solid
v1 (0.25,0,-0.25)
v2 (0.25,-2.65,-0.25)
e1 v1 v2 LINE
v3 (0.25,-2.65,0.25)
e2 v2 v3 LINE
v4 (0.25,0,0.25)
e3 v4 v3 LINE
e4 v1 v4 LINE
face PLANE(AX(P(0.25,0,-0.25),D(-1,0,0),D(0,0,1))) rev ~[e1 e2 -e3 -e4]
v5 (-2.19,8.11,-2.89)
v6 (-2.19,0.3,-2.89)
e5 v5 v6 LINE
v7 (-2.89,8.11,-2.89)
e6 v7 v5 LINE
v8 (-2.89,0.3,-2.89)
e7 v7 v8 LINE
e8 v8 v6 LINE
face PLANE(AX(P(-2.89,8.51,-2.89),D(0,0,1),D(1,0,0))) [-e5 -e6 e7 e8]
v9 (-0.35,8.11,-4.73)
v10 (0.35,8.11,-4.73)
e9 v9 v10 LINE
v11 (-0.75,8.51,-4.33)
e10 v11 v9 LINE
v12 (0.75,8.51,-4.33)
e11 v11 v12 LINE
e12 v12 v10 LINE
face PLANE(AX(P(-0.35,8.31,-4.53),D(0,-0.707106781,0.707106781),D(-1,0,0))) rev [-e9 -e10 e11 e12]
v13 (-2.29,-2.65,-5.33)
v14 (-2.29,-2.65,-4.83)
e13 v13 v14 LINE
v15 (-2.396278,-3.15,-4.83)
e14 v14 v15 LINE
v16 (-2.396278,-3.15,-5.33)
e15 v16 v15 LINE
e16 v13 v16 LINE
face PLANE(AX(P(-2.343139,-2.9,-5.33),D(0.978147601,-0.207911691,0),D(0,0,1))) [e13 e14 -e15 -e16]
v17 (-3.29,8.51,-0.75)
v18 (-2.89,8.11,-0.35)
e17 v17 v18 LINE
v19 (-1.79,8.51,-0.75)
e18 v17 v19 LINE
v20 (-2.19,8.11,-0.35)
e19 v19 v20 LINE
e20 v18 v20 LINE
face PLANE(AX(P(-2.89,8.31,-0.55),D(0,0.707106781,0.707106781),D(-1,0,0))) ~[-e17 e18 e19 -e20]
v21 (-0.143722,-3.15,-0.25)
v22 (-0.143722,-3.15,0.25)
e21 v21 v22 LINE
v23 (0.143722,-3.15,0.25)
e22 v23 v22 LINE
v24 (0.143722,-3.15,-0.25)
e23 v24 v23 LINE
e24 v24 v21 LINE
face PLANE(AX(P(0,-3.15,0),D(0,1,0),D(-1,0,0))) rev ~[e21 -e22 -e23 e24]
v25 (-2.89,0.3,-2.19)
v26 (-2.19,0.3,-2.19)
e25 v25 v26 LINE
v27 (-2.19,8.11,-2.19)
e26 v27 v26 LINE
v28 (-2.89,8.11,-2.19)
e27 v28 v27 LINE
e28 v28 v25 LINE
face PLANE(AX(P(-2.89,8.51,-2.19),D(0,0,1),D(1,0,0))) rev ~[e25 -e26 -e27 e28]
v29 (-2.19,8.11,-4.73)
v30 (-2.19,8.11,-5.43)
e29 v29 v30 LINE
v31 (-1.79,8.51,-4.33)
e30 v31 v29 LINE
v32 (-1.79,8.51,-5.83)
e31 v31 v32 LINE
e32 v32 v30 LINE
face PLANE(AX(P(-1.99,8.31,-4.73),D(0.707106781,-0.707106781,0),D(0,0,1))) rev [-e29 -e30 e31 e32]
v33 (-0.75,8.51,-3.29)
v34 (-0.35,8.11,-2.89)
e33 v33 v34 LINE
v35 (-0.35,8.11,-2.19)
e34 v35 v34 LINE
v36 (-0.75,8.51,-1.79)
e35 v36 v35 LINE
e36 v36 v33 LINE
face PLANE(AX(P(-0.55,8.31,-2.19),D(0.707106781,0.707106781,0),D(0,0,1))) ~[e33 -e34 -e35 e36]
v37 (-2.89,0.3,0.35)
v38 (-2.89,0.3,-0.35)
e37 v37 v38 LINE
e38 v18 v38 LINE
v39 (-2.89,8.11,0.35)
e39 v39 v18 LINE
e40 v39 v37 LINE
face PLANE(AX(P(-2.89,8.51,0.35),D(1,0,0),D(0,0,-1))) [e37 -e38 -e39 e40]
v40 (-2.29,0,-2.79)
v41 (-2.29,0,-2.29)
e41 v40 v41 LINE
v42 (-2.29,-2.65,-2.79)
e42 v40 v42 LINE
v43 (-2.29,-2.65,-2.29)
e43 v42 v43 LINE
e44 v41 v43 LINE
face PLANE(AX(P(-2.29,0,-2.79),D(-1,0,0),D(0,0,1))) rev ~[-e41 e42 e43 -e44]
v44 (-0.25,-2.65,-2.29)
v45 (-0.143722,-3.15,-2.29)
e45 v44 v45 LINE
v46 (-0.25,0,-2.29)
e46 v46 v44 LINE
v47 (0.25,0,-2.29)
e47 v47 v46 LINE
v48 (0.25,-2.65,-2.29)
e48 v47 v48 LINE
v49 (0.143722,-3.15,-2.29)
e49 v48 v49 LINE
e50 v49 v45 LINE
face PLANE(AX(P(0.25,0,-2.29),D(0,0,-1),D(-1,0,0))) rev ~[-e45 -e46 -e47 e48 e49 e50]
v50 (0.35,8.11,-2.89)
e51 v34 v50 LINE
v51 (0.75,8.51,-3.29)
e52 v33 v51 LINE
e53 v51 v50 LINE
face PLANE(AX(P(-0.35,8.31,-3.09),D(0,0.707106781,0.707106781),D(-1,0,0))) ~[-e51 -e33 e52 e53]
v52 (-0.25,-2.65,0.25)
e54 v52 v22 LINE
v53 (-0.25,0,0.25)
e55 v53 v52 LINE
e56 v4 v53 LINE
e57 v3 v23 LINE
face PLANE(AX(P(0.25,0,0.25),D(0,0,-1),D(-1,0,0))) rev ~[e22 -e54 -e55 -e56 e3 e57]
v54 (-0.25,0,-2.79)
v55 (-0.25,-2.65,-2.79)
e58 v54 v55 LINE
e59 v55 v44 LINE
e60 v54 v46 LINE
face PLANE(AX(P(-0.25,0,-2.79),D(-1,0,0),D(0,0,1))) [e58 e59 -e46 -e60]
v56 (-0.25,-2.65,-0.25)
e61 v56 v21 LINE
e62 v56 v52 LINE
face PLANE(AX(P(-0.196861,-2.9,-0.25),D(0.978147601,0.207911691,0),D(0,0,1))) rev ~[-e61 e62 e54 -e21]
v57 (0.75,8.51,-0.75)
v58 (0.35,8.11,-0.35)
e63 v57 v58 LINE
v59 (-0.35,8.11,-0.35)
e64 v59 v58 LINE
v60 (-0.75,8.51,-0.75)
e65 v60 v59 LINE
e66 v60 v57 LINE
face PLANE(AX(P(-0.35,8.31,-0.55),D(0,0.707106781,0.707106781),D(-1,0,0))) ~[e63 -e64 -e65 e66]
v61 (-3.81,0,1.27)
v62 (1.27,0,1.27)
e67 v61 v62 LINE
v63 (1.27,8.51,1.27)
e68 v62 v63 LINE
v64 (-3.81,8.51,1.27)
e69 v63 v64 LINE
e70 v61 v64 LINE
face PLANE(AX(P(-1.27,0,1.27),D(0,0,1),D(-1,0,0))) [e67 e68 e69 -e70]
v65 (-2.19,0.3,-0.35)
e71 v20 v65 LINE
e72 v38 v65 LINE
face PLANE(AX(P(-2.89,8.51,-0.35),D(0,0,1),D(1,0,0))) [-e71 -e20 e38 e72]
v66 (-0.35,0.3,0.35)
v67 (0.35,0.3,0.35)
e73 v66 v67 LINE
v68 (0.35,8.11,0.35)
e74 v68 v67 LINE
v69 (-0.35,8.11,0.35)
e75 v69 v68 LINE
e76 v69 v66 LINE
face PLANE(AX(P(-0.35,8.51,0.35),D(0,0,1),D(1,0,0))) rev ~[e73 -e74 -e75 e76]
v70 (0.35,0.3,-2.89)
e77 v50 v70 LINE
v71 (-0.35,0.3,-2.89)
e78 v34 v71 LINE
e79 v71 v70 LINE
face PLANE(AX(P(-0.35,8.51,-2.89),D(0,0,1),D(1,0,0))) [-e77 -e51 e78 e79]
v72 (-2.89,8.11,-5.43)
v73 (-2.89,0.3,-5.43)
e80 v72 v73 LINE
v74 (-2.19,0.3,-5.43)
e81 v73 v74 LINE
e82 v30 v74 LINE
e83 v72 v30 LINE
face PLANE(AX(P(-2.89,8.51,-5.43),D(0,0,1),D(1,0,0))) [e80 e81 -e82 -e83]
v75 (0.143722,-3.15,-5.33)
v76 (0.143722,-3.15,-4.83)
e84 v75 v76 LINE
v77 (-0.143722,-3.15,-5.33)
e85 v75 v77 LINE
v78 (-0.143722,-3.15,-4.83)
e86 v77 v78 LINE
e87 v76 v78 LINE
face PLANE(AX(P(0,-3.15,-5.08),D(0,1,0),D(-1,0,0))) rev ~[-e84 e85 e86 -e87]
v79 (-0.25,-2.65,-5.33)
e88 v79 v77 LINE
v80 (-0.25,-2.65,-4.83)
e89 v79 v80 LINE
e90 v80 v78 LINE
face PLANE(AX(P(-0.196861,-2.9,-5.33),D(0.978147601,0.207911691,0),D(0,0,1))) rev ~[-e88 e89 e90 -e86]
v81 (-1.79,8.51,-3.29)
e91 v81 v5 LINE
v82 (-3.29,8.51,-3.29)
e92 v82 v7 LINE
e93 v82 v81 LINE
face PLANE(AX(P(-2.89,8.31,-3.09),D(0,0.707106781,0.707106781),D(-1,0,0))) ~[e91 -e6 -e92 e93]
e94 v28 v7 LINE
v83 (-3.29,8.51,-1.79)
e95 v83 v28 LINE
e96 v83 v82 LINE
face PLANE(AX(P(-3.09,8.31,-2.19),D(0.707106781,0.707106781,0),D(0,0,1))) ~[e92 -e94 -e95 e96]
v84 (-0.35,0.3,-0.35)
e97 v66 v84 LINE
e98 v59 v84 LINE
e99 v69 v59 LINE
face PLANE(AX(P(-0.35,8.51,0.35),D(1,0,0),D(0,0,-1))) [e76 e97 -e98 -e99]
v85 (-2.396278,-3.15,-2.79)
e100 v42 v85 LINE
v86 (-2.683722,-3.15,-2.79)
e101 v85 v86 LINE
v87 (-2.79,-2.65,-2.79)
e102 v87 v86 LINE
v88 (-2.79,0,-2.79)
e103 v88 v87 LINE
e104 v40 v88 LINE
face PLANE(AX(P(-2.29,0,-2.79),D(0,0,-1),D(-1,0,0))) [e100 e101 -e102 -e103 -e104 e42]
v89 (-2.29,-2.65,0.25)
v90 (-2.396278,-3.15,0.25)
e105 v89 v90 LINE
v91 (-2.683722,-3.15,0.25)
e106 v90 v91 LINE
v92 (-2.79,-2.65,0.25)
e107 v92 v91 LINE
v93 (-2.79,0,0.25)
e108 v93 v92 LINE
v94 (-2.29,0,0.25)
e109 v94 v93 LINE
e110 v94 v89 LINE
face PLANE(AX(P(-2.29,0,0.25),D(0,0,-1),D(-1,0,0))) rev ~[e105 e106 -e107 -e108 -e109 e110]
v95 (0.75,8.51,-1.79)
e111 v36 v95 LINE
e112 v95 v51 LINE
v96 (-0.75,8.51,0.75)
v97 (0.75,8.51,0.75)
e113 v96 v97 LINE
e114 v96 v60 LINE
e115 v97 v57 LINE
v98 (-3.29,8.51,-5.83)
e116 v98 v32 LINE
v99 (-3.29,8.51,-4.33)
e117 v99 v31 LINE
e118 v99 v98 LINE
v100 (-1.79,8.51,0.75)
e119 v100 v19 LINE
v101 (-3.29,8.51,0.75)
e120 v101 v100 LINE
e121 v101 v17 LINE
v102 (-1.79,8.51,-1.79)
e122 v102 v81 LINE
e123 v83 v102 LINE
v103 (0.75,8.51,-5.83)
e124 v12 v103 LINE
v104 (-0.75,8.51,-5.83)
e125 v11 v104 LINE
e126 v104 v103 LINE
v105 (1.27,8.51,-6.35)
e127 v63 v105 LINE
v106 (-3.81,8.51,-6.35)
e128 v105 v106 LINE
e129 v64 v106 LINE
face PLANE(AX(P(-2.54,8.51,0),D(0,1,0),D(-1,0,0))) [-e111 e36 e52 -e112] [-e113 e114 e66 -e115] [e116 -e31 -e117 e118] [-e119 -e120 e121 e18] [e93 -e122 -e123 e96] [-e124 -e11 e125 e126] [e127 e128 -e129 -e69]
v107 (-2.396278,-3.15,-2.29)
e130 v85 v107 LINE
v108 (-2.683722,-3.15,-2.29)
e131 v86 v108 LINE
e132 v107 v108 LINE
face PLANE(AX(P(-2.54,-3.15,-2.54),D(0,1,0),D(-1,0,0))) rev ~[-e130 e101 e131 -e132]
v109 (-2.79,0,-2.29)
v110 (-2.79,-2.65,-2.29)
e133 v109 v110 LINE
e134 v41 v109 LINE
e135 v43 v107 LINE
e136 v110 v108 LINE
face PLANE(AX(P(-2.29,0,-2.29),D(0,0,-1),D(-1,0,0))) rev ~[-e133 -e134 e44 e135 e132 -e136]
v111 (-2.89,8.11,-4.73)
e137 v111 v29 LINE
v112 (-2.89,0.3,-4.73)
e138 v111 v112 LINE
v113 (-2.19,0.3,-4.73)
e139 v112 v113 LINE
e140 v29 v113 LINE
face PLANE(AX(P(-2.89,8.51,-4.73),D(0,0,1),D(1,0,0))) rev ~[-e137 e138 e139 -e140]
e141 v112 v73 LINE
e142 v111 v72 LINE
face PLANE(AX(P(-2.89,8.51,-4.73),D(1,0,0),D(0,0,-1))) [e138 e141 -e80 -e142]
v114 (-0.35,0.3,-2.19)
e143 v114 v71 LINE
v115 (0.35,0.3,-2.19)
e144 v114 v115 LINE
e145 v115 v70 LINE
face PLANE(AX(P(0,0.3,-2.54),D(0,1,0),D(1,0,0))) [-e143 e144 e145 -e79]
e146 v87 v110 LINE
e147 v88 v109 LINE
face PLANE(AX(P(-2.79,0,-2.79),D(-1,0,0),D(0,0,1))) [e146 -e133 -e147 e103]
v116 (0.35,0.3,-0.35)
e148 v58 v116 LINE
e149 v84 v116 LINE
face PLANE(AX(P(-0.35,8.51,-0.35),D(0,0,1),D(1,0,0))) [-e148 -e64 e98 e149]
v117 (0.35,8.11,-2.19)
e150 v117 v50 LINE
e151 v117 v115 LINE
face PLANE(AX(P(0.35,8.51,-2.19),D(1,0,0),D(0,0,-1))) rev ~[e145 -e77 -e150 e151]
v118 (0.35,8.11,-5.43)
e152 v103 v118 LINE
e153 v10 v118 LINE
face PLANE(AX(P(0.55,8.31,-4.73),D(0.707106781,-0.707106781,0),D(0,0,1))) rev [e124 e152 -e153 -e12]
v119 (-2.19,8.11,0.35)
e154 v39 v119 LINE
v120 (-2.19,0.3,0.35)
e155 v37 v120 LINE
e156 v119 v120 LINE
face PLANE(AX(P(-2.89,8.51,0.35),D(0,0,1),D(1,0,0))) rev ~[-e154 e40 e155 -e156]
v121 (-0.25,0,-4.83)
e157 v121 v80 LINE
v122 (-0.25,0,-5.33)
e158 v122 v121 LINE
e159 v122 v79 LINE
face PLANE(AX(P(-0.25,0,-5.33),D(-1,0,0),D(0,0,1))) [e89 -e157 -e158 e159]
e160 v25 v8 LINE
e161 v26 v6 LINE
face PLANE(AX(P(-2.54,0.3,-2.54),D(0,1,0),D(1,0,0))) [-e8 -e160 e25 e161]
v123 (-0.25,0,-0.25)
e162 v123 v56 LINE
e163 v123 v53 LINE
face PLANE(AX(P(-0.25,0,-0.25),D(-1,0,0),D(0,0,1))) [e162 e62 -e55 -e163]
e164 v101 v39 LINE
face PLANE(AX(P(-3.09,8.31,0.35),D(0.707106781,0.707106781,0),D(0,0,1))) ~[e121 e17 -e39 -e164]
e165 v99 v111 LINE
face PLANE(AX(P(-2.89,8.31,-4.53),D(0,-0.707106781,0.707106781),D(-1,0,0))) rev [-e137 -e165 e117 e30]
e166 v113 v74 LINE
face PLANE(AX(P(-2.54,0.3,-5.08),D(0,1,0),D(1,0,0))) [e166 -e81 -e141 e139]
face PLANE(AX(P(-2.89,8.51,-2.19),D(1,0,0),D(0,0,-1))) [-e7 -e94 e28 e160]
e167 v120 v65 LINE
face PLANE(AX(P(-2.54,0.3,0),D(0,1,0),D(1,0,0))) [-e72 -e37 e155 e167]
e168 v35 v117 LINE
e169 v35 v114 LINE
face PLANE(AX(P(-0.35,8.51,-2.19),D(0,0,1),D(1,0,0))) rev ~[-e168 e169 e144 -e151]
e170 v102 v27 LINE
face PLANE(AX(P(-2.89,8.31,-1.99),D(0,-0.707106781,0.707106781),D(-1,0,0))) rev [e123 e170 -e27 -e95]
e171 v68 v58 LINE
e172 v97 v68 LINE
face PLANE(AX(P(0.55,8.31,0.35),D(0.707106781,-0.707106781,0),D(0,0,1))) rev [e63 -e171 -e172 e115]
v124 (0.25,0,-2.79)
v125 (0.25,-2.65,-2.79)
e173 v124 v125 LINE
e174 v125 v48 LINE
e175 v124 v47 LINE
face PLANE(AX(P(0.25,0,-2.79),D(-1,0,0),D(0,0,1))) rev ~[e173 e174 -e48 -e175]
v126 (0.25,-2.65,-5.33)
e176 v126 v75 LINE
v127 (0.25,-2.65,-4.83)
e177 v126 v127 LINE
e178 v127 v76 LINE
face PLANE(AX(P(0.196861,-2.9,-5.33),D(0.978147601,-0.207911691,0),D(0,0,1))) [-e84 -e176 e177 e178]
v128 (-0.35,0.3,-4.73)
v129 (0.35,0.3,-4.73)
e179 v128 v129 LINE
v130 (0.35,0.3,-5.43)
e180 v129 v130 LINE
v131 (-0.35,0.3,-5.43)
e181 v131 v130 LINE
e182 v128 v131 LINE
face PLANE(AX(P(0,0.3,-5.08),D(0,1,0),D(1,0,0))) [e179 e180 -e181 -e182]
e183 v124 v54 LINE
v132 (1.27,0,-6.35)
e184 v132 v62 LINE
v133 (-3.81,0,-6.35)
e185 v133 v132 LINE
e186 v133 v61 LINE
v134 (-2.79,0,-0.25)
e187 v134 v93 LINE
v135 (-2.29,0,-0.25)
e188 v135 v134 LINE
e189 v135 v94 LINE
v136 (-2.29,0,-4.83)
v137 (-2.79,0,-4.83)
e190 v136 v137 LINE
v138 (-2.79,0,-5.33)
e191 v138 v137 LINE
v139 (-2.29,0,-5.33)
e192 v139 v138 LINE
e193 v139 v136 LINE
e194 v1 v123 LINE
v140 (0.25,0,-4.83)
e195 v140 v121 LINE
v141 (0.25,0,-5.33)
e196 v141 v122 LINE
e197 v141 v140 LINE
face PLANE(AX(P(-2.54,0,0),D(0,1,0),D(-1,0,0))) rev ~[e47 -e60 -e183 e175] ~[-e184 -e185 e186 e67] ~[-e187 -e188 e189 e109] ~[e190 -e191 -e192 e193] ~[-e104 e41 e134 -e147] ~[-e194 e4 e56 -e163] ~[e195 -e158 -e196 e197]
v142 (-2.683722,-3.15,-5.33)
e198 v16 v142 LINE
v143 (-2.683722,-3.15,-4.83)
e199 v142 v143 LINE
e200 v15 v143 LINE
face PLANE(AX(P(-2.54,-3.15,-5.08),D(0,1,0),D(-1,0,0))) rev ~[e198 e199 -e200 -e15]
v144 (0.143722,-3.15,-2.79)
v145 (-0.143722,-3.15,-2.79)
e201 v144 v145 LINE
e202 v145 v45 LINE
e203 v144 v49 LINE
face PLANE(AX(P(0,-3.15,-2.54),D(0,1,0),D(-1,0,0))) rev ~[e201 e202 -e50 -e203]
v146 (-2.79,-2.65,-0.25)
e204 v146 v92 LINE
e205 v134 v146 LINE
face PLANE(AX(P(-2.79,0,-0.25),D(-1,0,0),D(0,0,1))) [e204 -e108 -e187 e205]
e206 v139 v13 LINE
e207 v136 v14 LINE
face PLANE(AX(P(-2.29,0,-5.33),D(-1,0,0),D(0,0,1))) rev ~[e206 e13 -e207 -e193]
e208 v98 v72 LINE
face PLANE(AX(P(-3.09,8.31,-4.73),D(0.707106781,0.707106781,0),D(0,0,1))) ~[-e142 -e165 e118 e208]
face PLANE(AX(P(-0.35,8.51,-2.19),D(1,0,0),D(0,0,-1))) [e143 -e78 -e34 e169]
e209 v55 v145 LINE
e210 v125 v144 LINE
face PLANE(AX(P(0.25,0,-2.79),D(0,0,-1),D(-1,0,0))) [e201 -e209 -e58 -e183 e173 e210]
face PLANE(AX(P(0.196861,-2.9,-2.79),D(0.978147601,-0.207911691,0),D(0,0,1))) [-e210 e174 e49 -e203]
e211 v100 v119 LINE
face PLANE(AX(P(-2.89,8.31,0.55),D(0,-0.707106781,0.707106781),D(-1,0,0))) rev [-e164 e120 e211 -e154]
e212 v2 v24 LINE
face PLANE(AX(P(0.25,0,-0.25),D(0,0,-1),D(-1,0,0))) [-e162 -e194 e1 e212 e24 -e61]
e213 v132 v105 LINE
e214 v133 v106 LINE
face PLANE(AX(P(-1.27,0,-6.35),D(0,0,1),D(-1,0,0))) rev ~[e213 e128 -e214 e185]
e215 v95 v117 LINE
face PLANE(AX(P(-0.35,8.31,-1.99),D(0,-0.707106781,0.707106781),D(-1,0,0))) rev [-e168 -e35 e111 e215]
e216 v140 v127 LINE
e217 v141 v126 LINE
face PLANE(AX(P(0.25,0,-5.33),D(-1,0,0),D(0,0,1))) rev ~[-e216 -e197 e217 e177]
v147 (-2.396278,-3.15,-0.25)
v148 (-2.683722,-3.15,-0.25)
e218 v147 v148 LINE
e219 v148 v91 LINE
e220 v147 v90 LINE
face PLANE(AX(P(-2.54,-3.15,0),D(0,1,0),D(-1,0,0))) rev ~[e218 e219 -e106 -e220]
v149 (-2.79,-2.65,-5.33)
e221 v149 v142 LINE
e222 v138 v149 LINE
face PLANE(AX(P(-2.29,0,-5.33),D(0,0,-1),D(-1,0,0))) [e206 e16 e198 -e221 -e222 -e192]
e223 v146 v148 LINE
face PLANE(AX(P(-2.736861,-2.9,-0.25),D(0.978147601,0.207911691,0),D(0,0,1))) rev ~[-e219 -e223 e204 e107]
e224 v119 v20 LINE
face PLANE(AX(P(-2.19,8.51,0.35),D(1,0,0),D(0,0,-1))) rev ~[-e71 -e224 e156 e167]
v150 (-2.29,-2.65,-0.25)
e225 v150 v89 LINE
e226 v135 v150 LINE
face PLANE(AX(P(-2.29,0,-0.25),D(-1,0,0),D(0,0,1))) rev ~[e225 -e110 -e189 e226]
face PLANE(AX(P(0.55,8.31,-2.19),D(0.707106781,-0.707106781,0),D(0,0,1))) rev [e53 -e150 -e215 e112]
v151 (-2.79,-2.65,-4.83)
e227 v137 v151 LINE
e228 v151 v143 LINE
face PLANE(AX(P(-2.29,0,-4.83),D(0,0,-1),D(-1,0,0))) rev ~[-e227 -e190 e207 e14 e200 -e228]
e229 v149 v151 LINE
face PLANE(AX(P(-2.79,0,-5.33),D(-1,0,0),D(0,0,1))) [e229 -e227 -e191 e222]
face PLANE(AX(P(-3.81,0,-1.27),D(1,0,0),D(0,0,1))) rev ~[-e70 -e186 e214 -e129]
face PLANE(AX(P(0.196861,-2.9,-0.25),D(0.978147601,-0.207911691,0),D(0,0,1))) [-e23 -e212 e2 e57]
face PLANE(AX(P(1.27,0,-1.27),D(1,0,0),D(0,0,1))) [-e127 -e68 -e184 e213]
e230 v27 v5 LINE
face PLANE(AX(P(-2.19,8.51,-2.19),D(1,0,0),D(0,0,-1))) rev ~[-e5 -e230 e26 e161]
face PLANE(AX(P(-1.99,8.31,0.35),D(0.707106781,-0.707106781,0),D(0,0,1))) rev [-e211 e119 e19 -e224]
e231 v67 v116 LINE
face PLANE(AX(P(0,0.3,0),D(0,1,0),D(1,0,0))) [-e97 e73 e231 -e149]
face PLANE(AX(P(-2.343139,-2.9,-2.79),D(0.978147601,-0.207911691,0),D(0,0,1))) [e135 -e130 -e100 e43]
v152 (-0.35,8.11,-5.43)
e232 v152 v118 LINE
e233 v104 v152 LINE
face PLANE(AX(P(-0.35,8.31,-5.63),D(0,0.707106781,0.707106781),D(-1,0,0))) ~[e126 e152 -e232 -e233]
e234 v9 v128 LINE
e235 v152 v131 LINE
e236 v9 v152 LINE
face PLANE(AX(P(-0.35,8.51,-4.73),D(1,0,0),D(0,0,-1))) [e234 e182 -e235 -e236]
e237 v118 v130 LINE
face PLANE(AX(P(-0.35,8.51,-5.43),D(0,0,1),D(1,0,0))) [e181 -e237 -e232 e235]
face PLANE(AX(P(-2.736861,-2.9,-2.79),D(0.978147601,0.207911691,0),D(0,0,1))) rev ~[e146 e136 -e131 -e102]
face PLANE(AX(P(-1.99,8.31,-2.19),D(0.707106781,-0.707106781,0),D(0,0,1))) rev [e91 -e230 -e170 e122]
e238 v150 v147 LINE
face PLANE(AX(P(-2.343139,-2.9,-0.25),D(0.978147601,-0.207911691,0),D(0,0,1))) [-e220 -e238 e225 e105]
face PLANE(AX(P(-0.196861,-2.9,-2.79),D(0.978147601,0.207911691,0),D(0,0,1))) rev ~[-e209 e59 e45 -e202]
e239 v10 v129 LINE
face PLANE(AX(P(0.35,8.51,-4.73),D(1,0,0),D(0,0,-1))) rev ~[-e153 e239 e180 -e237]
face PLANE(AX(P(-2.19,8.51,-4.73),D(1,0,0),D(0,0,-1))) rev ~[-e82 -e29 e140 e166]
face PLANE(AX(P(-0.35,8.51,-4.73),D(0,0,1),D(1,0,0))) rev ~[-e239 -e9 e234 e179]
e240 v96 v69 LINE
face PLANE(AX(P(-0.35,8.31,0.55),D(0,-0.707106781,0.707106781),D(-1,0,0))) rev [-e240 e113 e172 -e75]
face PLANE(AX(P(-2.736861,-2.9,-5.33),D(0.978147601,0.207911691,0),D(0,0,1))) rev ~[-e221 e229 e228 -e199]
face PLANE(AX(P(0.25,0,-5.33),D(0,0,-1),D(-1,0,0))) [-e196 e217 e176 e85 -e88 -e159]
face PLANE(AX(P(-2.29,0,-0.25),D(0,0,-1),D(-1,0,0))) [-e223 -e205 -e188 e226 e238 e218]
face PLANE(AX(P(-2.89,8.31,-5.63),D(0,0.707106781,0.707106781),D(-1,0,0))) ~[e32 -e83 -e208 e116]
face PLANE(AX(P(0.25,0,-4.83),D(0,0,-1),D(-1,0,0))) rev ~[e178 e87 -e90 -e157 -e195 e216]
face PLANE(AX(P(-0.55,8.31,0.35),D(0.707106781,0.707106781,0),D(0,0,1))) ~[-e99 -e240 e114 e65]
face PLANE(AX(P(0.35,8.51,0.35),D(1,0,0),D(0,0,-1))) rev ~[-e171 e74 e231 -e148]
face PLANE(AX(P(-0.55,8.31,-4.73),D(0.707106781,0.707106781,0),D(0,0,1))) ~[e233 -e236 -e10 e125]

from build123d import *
from OCP.BRepFilletAPI import BRepFilletAPI_MakeChamfer

# Parameters (mm, degrees)
SKETCH_1_W                          = 2.54
SKETCH_1_H                          = 2.54
EXTRUDE_1_DEPTH                     = 8.51
SKETCH_4_W                          = 0.7
SKETCH_4_H                          = 0.7
CUT_EXTRUDE_1_DEPTH                 = 8.21
CHAMFER_3_SIZE                      = 0.4
SKETCH_2_W                          = 0.5
SKETCH_2_H                          = 0.5
EXTRUDE_2_DEPTH                     = 3.15
CHAMFER_2_SIZE                      = 0.5
CHAMFER_2_SIZE2                     = 0.106278281
PATTERN_LINEAR_1_COUNT              = 3
PATTERN_LINEAR_1_PITCH              = 2.54
PATTERN_LINEAR_1_COUNT_DIR2         = 2
PATTERN_LINEAR_1_PITCH_DIR2         = 2.54
CHAMFER_3_OF_PATTERN_LINEAR_1_SIZE  = 0.4
CHAMFER_2_OF_PATTERN_LINEAR_1_SIZE  = 0.5
CHAMFER_2_OF_PATTERN_LINEAR_1_SIZE2 = 0.106278281


with BuildPart() as part:
    # Эскиз1 → Бобышка-Вытянуть1 (new body)
    with BuildSketch(Plane(origin=(0, 0, 0), x_dir=(-1, 0, 0), z_dir=(0, 1, 0))):
        Rectangle(SKETCH_1_W, SKETCH_1_H)
    extrude_1 = extrude(amount=EXTRUDE_1_DEPTH)

    # Эскиз4 → Вырез-Вытянуть1 (cut)
    with BuildSketch(Plane(origin=(0, 8.51, 0), x_dir=(1, 0, 0), z_dir=(0, 1, 0))):
        Rectangle(SKETCH_4_W, SKETCH_4_H)
    cut_extrude_1 = extrude(amount=-CUT_EXTRUDE_1_DEPTH, mode=Mode.SUBTRACT)

    # Фаска3
    chamfer_3_edges = [part.edges().sort_by_distance(p)[0] for p in [
        (-0.35, 8.51, 0),
        (0, 8.51, 0.35),
        (0.35, 8.51, 0),
        (0, 8.51, -0.35),
    ]]
    chamfer(chamfer_3_edges, length=CHAMFER_3_SIZE)

    # Эскиз2 → Бобышка-Вытянуть2 (add)
    with BuildSketch(Plane(origin=(0, 0, 0), x_dir=(-1, 0, 0), z_dir=(0, 1, 0))):
        Rectangle(SKETCH_2_W, SKETCH_2_H)
    extrude_2 = extrude(amount=-EXTRUDE_2_DEPTH)

    # Фаска2: one chamfer whose edges measure the first distance from different faces: ONE call of the kernel's chamfer builder (chamfer() names one face for all edges)
    chamfer_2_edges_1 = [part.edges().sort_by_distance(p)[0] for p in [
        (-0.25, -3.15, 0),
    ]]
    chamfer_2_side_1 = [part.faces().sort_by_distance(p)[0] for p in [
        (-0.25, -1.575, 0),
    ]]
    chamfer_2_edges_2 = [part.edges().sort_by_distance(p)[0] for p in [
        (0.25, -3.15, 0),
    ]]
    chamfer_2_side_2 = [part.faces().sort_by_distance(p)[0] for p in [
        (0.25, -1.575, 0),
    ]]
    chamfer_2 = BRepFilletAPI_MakeChamfer(part.part.solid().wrapped)
    for e in chamfer_2_edges_1:
        chamfer_2.Add(CHAMFER_2_SIZE, CHAMFER_2_SIZE2, e.wrapped, chamfer_2_side_1[0].wrapped)  # the first distance lies on this face
    for e in chamfer_2_edges_2:
        chamfer_2.Add(CHAMFER_2_SIZE, CHAMFER_2_SIZE2, e.wrapped, chamfer_2_side_2[0].wrapped)  # the first distance lies on this face
    add(Compound.cast(chamfer_2.Shape()), mode=Mode.REPLACE)

    # Линейный массив1: Бобышка-Вытянуть1, Вырез-Вытянуть1, Extrude 2 3 × 2
    with Locations(*[(-j * PATTERN_LINEAR_1_PITCH_DIR2, 0, -i * PATTERN_LINEAR_1_PITCH) for i in range(PATTERN_LINEAR_1_COUNT) for j in range(PATTERN_LINEAR_1_COUNT_DIR2) if (i, j) != (0, 0)]):
        add(extrude_1)
        add(cut_extrude_1, mode=Mode.SUBTRACT)
        add(extrude_2)

    # Фаска3 of Линейный массив1
    chamfer_3_of_pattern_linear_1_edges = [part.edges().sort_by_distance(p)[0] for p in [
        (-2.89, 8.51, 0),
        (-2.54, 8.51, 0.35),
        (-2.19, 8.51, 0),
        (-2.54, 8.51, -0.35),
        (-0.35, 8.51, -2.54),
        (0, 8.51, -2.19),
        (0.35, 8.51, -2.54),
        (0, 8.51, -2.89),
        (-2.89, 8.51, -2.54),
        (-2.54, 8.51, -2.19),
        (-2.19, 8.51, -2.54),
        (-2.54, 8.51, -2.89),
        (-0.35, 8.51, -5.08),
        (0, 8.51, -4.73),
        (0.35, 8.51, -5.08),
        (0, 8.51, -5.43),
        (-2.89, 8.51, -5.08),
        (-2.54, 8.51, -4.73),
        (-2.19, 8.51, -5.08),
        (-2.54, 8.51, -5.43),
    ]]
    chamfer(chamfer_3_of_pattern_linear_1_edges, length=CHAMFER_3_OF_PATTERN_LINEAR_1_SIZE)

    # Фаска2 of Линейный массив1: one chamfer whose edges measure the first distance from different faces: ONE call of the kernel's chamfer builder (chamfer() names one face for all edges)
    chamfer_2_of_pattern_linear_1_edges_1 = [part.edges().sort_by_distance(p)[0] for p in [
        (-2.79, -3.15, 0),
    ]]
    chamfer_2_of_pattern_linear_1_side_1 = [part.faces().sort_by_distance(p)[0] for p in [
        (-2.79, -1.575, 0),
    ]]
    chamfer_2_of_pattern_linear_1_edges_2 = [part.edges().sort_by_distance(p)[0] for p in [
        (-2.29, -3.15, 0),
    ]]
    chamfer_2_of_pattern_linear_1_side_2 = [part.faces().sort_by_distance(p)[0] for p in [
        (-2.29, -1.575, 0),
    ]]
    chamfer_2_of_pattern_linear_1_edges_3 = [part.edges().sort_by_distance(p)[0] for p in [
        (-0.25, -3.15, -2.54),
    ]]
    chamfer_2_of_pattern_linear_1_side_3 = [part.faces().sort_by_distance(p)[0] for p in [
        (-0.25, -1.575, -2.54),
    ]]
    chamfer_2_of_pattern_linear_1_edges_4 = [part.edges().sort_by_distance(p)[0] for p in [
        (0.25, -3.15, -2.54),
    ]]
    chamfer_2_of_pattern_linear_1_side_4 = [part.faces().sort_by_distance(p)[0] for p in [
        (0.25, -1.575, -2.54),
    ]]
    chamfer_2_of_pattern_linear_1_edges_5 = [part.edges().sort_by_distance(p)[0] for p in [
        (-2.79, -3.15, -2.54),
    ]]
    chamfer_2_of_pattern_linear_1_side_5 = [part.faces().sort_by_distance(p)[0] for p in [
        (-2.79, -1.575, -2.54),
    ]]
    chamfer_2_of_pattern_linear_1_edges_6 = [part.edges().sort_by_distance(p)[0] for p in [
        (-2.29, -3.15, -2.54),
    ]]
    chamfer_2_of_pattern_linear_1_side_6 = [part.faces().sort_by_distance(p)[0] for p in [
        (-2.29, -1.575, -2.54),
    ]]
    chamfer_2_of_pattern_linear_1_edges_7 = [part.edges().sort_by_distance(p)[0] for p in [
        (-0.25, -3.15, -5.08),
    ]]
    chamfer_2_of_pattern_linear_1_side_7 = [part.faces().sort_by_distance(p)[0] for p in [
        (-0.25, -1.575, -5.08),
    ]]
    chamfer_2_of_pattern_linear_1_edges_8 = [part.edges().sort_by_distance(p)[0] for p in [
        (0.25, -3.15, -5.08),
    ]]
    chamfer_2_of_pattern_linear_1_side_8 = [part.faces().sort_by_distance(p)[0] for p in [
        (0.25, -1.575, -5.08),
    ]]
    chamfer_2_of_pattern_linear_1_edges_9 = [part.edges().sort_by_distance(p)[0] for p in [
        (-2.79, -3.15, -5.08),
    ]]
    chamfer_2_of_pattern_linear_1_side_9 = [part.faces().sort_by_distance(p)[0] for p in [
        (-2.79, -1.575, -5.08),
    ]]
    chamfer_2_of_pattern_linear_1_edges_10 = [part.edges().sort_by_distance(p)[0] for p in [
        (-2.29, -3.15, -5.08),
    ]]
    chamfer_2_of_pattern_linear_1_side_10 = [part.faces().sort_by_distance(p)[0] for p in [
        (-2.29, -1.575, -5.08),
    ]]
    chamfer_2_of_pattern_linear_1 = BRepFilletAPI_MakeChamfer(part.part.solid().wrapped)
    for e in chamfer_2_of_pattern_linear_1_edges_1:
        chamfer_2_of_pattern_linear_1.Add(CHAMFER_2_OF_PATTERN_LINEAR_1_SIZE, CHAMFER_2_OF_PATTERN_LINEAR_1_SIZE2, e.wrapped, chamfer_2_of_pattern_linear_1_side_1[0].wrapped)  # the first distance lies on this face
    for e in chamfer_2_of_pattern_linear_1_edges_2:
        chamfer_2_of_pattern_linear_1.Add(CHAMFER_2_OF_PATTERN_LINEAR_1_SIZE, CHAMFER_2_OF_PATTERN_LINEAR_1_SIZE2, e.wrapped, chamfer_2_of_pattern_linear_1_side_2[0].wrapped)  # the first distance lies on this face
    for e in chamfer_2_of_pattern_linear_1_edges_3:
        chamfer_2_of_pattern_linear_1.Add(CHAMFER_2_OF_PATTERN_LINEAR_1_SIZE, CHAMFER_2_OF_PATTERN_LINEAR_1_SIZE2, e.wrapped, chamfer_2_of_pattern_linear_1_side_3[0].wrapped)  # the first distance lies on this face
    for e in chamfer_2_of_pattern_linear_1_edges_4:
        chamfer_2_of_pattern_linear_1.Add(CHAMFER_2_OF_PATTERN_LINEAR_1_SIZE, CHAMFER_2_OF_PATTERN_LINEAR_1_SIZE2, e.wrapped, chamfer_2_of_pattern_linear_1_side_4[0].wrapped)  # the first distance lies on this face
    for e in chamfer_2_of_pattern_linear_1_edges_5:
        chamfer_2_of_pattern_linear_1.Add(CHAMFER_2_OF_PATTERN_LINEAR_1_SIZE, CHAMFER_2_OF_PATTERN_LINEAR_1_SIZE2, e.wrapped, chamfer_2_of_pattern_linear_1_side_5[0].wrapped)  # the first distance lies on this face
    for e in chamfer_2_of_pattern_linear_1_edges_6:
        chamfer_2_of_pattern_linear_1.Add(CHAMFER_2_OF_PATTERN_LINEAR_1_SIZE, CHAMFER_2_OF_PATTERN_LINEAR_1_SIZE2, e.wrapped, chamfer_2_of_pattern_linear_1_side_6[0].wrapped)  # the first distance lies on this face
    for e in chamfer_2_of_pattern_linear_1_edges_7:
        chamfer_2_of_pattern_linear_1.Add(CHAMFER_2_OF_PATTERN_LINEAR_1_SIZE, CHAMFER_2_OF_PATTERN_LINEAR_1_SIZE2, e.wrapped, chamfer_2_of_pattern_linear_1_side_7[0].wrapped)  # the first distance lies on this face
    for e in chamfer_2_of_pattern_linear_1_edges_8:
        chamfer_2_of_pattern_linear_1.Add(CHAMFER_2_OF_PATTERN_LINEAR_1_SIZE, CHAMFER_2_OF_PATTERN_LINEAR_1_SIZE2, e.wrapped, chamfer_2_of_pattern_linear_1_side_8[0].wrapped)  # the first distance lies on this face
    for e in chamfer_2_of_pattern_linear_1_edges_9:
        chamfer_2_of_pattern_linear_1.Add(CHAMFER_2_OF_PATTERN_LINEAR_1_SIZE, CHAMFER_2_OF_PATTERN_LINEAR_1_SIZE2, e.wrapped, chamfer_2_of_pattern_linear_1_side_9[0].wrapped)  # the first distance lies on this face
    for e in chamfer_2_of_pattern_linear_1_edges_10:
        chamfer_2_of_pattern_linear_1.Add(CHAMFER_2_OF_PATTERN_LINEAR_1_SIZE, CHAMFER_2_OF_PATTERN_LINEAR_1_SIZE2, e.wrapped, chamfer_2_of_pattern_linear_1_side_10[0].wrapped)  # the first distance lies on this face
    add(Compound.cast(chamfer_2_of_pattern_linear_1.Shape()), mode=Mode.REPLACE)


solid = part.part
